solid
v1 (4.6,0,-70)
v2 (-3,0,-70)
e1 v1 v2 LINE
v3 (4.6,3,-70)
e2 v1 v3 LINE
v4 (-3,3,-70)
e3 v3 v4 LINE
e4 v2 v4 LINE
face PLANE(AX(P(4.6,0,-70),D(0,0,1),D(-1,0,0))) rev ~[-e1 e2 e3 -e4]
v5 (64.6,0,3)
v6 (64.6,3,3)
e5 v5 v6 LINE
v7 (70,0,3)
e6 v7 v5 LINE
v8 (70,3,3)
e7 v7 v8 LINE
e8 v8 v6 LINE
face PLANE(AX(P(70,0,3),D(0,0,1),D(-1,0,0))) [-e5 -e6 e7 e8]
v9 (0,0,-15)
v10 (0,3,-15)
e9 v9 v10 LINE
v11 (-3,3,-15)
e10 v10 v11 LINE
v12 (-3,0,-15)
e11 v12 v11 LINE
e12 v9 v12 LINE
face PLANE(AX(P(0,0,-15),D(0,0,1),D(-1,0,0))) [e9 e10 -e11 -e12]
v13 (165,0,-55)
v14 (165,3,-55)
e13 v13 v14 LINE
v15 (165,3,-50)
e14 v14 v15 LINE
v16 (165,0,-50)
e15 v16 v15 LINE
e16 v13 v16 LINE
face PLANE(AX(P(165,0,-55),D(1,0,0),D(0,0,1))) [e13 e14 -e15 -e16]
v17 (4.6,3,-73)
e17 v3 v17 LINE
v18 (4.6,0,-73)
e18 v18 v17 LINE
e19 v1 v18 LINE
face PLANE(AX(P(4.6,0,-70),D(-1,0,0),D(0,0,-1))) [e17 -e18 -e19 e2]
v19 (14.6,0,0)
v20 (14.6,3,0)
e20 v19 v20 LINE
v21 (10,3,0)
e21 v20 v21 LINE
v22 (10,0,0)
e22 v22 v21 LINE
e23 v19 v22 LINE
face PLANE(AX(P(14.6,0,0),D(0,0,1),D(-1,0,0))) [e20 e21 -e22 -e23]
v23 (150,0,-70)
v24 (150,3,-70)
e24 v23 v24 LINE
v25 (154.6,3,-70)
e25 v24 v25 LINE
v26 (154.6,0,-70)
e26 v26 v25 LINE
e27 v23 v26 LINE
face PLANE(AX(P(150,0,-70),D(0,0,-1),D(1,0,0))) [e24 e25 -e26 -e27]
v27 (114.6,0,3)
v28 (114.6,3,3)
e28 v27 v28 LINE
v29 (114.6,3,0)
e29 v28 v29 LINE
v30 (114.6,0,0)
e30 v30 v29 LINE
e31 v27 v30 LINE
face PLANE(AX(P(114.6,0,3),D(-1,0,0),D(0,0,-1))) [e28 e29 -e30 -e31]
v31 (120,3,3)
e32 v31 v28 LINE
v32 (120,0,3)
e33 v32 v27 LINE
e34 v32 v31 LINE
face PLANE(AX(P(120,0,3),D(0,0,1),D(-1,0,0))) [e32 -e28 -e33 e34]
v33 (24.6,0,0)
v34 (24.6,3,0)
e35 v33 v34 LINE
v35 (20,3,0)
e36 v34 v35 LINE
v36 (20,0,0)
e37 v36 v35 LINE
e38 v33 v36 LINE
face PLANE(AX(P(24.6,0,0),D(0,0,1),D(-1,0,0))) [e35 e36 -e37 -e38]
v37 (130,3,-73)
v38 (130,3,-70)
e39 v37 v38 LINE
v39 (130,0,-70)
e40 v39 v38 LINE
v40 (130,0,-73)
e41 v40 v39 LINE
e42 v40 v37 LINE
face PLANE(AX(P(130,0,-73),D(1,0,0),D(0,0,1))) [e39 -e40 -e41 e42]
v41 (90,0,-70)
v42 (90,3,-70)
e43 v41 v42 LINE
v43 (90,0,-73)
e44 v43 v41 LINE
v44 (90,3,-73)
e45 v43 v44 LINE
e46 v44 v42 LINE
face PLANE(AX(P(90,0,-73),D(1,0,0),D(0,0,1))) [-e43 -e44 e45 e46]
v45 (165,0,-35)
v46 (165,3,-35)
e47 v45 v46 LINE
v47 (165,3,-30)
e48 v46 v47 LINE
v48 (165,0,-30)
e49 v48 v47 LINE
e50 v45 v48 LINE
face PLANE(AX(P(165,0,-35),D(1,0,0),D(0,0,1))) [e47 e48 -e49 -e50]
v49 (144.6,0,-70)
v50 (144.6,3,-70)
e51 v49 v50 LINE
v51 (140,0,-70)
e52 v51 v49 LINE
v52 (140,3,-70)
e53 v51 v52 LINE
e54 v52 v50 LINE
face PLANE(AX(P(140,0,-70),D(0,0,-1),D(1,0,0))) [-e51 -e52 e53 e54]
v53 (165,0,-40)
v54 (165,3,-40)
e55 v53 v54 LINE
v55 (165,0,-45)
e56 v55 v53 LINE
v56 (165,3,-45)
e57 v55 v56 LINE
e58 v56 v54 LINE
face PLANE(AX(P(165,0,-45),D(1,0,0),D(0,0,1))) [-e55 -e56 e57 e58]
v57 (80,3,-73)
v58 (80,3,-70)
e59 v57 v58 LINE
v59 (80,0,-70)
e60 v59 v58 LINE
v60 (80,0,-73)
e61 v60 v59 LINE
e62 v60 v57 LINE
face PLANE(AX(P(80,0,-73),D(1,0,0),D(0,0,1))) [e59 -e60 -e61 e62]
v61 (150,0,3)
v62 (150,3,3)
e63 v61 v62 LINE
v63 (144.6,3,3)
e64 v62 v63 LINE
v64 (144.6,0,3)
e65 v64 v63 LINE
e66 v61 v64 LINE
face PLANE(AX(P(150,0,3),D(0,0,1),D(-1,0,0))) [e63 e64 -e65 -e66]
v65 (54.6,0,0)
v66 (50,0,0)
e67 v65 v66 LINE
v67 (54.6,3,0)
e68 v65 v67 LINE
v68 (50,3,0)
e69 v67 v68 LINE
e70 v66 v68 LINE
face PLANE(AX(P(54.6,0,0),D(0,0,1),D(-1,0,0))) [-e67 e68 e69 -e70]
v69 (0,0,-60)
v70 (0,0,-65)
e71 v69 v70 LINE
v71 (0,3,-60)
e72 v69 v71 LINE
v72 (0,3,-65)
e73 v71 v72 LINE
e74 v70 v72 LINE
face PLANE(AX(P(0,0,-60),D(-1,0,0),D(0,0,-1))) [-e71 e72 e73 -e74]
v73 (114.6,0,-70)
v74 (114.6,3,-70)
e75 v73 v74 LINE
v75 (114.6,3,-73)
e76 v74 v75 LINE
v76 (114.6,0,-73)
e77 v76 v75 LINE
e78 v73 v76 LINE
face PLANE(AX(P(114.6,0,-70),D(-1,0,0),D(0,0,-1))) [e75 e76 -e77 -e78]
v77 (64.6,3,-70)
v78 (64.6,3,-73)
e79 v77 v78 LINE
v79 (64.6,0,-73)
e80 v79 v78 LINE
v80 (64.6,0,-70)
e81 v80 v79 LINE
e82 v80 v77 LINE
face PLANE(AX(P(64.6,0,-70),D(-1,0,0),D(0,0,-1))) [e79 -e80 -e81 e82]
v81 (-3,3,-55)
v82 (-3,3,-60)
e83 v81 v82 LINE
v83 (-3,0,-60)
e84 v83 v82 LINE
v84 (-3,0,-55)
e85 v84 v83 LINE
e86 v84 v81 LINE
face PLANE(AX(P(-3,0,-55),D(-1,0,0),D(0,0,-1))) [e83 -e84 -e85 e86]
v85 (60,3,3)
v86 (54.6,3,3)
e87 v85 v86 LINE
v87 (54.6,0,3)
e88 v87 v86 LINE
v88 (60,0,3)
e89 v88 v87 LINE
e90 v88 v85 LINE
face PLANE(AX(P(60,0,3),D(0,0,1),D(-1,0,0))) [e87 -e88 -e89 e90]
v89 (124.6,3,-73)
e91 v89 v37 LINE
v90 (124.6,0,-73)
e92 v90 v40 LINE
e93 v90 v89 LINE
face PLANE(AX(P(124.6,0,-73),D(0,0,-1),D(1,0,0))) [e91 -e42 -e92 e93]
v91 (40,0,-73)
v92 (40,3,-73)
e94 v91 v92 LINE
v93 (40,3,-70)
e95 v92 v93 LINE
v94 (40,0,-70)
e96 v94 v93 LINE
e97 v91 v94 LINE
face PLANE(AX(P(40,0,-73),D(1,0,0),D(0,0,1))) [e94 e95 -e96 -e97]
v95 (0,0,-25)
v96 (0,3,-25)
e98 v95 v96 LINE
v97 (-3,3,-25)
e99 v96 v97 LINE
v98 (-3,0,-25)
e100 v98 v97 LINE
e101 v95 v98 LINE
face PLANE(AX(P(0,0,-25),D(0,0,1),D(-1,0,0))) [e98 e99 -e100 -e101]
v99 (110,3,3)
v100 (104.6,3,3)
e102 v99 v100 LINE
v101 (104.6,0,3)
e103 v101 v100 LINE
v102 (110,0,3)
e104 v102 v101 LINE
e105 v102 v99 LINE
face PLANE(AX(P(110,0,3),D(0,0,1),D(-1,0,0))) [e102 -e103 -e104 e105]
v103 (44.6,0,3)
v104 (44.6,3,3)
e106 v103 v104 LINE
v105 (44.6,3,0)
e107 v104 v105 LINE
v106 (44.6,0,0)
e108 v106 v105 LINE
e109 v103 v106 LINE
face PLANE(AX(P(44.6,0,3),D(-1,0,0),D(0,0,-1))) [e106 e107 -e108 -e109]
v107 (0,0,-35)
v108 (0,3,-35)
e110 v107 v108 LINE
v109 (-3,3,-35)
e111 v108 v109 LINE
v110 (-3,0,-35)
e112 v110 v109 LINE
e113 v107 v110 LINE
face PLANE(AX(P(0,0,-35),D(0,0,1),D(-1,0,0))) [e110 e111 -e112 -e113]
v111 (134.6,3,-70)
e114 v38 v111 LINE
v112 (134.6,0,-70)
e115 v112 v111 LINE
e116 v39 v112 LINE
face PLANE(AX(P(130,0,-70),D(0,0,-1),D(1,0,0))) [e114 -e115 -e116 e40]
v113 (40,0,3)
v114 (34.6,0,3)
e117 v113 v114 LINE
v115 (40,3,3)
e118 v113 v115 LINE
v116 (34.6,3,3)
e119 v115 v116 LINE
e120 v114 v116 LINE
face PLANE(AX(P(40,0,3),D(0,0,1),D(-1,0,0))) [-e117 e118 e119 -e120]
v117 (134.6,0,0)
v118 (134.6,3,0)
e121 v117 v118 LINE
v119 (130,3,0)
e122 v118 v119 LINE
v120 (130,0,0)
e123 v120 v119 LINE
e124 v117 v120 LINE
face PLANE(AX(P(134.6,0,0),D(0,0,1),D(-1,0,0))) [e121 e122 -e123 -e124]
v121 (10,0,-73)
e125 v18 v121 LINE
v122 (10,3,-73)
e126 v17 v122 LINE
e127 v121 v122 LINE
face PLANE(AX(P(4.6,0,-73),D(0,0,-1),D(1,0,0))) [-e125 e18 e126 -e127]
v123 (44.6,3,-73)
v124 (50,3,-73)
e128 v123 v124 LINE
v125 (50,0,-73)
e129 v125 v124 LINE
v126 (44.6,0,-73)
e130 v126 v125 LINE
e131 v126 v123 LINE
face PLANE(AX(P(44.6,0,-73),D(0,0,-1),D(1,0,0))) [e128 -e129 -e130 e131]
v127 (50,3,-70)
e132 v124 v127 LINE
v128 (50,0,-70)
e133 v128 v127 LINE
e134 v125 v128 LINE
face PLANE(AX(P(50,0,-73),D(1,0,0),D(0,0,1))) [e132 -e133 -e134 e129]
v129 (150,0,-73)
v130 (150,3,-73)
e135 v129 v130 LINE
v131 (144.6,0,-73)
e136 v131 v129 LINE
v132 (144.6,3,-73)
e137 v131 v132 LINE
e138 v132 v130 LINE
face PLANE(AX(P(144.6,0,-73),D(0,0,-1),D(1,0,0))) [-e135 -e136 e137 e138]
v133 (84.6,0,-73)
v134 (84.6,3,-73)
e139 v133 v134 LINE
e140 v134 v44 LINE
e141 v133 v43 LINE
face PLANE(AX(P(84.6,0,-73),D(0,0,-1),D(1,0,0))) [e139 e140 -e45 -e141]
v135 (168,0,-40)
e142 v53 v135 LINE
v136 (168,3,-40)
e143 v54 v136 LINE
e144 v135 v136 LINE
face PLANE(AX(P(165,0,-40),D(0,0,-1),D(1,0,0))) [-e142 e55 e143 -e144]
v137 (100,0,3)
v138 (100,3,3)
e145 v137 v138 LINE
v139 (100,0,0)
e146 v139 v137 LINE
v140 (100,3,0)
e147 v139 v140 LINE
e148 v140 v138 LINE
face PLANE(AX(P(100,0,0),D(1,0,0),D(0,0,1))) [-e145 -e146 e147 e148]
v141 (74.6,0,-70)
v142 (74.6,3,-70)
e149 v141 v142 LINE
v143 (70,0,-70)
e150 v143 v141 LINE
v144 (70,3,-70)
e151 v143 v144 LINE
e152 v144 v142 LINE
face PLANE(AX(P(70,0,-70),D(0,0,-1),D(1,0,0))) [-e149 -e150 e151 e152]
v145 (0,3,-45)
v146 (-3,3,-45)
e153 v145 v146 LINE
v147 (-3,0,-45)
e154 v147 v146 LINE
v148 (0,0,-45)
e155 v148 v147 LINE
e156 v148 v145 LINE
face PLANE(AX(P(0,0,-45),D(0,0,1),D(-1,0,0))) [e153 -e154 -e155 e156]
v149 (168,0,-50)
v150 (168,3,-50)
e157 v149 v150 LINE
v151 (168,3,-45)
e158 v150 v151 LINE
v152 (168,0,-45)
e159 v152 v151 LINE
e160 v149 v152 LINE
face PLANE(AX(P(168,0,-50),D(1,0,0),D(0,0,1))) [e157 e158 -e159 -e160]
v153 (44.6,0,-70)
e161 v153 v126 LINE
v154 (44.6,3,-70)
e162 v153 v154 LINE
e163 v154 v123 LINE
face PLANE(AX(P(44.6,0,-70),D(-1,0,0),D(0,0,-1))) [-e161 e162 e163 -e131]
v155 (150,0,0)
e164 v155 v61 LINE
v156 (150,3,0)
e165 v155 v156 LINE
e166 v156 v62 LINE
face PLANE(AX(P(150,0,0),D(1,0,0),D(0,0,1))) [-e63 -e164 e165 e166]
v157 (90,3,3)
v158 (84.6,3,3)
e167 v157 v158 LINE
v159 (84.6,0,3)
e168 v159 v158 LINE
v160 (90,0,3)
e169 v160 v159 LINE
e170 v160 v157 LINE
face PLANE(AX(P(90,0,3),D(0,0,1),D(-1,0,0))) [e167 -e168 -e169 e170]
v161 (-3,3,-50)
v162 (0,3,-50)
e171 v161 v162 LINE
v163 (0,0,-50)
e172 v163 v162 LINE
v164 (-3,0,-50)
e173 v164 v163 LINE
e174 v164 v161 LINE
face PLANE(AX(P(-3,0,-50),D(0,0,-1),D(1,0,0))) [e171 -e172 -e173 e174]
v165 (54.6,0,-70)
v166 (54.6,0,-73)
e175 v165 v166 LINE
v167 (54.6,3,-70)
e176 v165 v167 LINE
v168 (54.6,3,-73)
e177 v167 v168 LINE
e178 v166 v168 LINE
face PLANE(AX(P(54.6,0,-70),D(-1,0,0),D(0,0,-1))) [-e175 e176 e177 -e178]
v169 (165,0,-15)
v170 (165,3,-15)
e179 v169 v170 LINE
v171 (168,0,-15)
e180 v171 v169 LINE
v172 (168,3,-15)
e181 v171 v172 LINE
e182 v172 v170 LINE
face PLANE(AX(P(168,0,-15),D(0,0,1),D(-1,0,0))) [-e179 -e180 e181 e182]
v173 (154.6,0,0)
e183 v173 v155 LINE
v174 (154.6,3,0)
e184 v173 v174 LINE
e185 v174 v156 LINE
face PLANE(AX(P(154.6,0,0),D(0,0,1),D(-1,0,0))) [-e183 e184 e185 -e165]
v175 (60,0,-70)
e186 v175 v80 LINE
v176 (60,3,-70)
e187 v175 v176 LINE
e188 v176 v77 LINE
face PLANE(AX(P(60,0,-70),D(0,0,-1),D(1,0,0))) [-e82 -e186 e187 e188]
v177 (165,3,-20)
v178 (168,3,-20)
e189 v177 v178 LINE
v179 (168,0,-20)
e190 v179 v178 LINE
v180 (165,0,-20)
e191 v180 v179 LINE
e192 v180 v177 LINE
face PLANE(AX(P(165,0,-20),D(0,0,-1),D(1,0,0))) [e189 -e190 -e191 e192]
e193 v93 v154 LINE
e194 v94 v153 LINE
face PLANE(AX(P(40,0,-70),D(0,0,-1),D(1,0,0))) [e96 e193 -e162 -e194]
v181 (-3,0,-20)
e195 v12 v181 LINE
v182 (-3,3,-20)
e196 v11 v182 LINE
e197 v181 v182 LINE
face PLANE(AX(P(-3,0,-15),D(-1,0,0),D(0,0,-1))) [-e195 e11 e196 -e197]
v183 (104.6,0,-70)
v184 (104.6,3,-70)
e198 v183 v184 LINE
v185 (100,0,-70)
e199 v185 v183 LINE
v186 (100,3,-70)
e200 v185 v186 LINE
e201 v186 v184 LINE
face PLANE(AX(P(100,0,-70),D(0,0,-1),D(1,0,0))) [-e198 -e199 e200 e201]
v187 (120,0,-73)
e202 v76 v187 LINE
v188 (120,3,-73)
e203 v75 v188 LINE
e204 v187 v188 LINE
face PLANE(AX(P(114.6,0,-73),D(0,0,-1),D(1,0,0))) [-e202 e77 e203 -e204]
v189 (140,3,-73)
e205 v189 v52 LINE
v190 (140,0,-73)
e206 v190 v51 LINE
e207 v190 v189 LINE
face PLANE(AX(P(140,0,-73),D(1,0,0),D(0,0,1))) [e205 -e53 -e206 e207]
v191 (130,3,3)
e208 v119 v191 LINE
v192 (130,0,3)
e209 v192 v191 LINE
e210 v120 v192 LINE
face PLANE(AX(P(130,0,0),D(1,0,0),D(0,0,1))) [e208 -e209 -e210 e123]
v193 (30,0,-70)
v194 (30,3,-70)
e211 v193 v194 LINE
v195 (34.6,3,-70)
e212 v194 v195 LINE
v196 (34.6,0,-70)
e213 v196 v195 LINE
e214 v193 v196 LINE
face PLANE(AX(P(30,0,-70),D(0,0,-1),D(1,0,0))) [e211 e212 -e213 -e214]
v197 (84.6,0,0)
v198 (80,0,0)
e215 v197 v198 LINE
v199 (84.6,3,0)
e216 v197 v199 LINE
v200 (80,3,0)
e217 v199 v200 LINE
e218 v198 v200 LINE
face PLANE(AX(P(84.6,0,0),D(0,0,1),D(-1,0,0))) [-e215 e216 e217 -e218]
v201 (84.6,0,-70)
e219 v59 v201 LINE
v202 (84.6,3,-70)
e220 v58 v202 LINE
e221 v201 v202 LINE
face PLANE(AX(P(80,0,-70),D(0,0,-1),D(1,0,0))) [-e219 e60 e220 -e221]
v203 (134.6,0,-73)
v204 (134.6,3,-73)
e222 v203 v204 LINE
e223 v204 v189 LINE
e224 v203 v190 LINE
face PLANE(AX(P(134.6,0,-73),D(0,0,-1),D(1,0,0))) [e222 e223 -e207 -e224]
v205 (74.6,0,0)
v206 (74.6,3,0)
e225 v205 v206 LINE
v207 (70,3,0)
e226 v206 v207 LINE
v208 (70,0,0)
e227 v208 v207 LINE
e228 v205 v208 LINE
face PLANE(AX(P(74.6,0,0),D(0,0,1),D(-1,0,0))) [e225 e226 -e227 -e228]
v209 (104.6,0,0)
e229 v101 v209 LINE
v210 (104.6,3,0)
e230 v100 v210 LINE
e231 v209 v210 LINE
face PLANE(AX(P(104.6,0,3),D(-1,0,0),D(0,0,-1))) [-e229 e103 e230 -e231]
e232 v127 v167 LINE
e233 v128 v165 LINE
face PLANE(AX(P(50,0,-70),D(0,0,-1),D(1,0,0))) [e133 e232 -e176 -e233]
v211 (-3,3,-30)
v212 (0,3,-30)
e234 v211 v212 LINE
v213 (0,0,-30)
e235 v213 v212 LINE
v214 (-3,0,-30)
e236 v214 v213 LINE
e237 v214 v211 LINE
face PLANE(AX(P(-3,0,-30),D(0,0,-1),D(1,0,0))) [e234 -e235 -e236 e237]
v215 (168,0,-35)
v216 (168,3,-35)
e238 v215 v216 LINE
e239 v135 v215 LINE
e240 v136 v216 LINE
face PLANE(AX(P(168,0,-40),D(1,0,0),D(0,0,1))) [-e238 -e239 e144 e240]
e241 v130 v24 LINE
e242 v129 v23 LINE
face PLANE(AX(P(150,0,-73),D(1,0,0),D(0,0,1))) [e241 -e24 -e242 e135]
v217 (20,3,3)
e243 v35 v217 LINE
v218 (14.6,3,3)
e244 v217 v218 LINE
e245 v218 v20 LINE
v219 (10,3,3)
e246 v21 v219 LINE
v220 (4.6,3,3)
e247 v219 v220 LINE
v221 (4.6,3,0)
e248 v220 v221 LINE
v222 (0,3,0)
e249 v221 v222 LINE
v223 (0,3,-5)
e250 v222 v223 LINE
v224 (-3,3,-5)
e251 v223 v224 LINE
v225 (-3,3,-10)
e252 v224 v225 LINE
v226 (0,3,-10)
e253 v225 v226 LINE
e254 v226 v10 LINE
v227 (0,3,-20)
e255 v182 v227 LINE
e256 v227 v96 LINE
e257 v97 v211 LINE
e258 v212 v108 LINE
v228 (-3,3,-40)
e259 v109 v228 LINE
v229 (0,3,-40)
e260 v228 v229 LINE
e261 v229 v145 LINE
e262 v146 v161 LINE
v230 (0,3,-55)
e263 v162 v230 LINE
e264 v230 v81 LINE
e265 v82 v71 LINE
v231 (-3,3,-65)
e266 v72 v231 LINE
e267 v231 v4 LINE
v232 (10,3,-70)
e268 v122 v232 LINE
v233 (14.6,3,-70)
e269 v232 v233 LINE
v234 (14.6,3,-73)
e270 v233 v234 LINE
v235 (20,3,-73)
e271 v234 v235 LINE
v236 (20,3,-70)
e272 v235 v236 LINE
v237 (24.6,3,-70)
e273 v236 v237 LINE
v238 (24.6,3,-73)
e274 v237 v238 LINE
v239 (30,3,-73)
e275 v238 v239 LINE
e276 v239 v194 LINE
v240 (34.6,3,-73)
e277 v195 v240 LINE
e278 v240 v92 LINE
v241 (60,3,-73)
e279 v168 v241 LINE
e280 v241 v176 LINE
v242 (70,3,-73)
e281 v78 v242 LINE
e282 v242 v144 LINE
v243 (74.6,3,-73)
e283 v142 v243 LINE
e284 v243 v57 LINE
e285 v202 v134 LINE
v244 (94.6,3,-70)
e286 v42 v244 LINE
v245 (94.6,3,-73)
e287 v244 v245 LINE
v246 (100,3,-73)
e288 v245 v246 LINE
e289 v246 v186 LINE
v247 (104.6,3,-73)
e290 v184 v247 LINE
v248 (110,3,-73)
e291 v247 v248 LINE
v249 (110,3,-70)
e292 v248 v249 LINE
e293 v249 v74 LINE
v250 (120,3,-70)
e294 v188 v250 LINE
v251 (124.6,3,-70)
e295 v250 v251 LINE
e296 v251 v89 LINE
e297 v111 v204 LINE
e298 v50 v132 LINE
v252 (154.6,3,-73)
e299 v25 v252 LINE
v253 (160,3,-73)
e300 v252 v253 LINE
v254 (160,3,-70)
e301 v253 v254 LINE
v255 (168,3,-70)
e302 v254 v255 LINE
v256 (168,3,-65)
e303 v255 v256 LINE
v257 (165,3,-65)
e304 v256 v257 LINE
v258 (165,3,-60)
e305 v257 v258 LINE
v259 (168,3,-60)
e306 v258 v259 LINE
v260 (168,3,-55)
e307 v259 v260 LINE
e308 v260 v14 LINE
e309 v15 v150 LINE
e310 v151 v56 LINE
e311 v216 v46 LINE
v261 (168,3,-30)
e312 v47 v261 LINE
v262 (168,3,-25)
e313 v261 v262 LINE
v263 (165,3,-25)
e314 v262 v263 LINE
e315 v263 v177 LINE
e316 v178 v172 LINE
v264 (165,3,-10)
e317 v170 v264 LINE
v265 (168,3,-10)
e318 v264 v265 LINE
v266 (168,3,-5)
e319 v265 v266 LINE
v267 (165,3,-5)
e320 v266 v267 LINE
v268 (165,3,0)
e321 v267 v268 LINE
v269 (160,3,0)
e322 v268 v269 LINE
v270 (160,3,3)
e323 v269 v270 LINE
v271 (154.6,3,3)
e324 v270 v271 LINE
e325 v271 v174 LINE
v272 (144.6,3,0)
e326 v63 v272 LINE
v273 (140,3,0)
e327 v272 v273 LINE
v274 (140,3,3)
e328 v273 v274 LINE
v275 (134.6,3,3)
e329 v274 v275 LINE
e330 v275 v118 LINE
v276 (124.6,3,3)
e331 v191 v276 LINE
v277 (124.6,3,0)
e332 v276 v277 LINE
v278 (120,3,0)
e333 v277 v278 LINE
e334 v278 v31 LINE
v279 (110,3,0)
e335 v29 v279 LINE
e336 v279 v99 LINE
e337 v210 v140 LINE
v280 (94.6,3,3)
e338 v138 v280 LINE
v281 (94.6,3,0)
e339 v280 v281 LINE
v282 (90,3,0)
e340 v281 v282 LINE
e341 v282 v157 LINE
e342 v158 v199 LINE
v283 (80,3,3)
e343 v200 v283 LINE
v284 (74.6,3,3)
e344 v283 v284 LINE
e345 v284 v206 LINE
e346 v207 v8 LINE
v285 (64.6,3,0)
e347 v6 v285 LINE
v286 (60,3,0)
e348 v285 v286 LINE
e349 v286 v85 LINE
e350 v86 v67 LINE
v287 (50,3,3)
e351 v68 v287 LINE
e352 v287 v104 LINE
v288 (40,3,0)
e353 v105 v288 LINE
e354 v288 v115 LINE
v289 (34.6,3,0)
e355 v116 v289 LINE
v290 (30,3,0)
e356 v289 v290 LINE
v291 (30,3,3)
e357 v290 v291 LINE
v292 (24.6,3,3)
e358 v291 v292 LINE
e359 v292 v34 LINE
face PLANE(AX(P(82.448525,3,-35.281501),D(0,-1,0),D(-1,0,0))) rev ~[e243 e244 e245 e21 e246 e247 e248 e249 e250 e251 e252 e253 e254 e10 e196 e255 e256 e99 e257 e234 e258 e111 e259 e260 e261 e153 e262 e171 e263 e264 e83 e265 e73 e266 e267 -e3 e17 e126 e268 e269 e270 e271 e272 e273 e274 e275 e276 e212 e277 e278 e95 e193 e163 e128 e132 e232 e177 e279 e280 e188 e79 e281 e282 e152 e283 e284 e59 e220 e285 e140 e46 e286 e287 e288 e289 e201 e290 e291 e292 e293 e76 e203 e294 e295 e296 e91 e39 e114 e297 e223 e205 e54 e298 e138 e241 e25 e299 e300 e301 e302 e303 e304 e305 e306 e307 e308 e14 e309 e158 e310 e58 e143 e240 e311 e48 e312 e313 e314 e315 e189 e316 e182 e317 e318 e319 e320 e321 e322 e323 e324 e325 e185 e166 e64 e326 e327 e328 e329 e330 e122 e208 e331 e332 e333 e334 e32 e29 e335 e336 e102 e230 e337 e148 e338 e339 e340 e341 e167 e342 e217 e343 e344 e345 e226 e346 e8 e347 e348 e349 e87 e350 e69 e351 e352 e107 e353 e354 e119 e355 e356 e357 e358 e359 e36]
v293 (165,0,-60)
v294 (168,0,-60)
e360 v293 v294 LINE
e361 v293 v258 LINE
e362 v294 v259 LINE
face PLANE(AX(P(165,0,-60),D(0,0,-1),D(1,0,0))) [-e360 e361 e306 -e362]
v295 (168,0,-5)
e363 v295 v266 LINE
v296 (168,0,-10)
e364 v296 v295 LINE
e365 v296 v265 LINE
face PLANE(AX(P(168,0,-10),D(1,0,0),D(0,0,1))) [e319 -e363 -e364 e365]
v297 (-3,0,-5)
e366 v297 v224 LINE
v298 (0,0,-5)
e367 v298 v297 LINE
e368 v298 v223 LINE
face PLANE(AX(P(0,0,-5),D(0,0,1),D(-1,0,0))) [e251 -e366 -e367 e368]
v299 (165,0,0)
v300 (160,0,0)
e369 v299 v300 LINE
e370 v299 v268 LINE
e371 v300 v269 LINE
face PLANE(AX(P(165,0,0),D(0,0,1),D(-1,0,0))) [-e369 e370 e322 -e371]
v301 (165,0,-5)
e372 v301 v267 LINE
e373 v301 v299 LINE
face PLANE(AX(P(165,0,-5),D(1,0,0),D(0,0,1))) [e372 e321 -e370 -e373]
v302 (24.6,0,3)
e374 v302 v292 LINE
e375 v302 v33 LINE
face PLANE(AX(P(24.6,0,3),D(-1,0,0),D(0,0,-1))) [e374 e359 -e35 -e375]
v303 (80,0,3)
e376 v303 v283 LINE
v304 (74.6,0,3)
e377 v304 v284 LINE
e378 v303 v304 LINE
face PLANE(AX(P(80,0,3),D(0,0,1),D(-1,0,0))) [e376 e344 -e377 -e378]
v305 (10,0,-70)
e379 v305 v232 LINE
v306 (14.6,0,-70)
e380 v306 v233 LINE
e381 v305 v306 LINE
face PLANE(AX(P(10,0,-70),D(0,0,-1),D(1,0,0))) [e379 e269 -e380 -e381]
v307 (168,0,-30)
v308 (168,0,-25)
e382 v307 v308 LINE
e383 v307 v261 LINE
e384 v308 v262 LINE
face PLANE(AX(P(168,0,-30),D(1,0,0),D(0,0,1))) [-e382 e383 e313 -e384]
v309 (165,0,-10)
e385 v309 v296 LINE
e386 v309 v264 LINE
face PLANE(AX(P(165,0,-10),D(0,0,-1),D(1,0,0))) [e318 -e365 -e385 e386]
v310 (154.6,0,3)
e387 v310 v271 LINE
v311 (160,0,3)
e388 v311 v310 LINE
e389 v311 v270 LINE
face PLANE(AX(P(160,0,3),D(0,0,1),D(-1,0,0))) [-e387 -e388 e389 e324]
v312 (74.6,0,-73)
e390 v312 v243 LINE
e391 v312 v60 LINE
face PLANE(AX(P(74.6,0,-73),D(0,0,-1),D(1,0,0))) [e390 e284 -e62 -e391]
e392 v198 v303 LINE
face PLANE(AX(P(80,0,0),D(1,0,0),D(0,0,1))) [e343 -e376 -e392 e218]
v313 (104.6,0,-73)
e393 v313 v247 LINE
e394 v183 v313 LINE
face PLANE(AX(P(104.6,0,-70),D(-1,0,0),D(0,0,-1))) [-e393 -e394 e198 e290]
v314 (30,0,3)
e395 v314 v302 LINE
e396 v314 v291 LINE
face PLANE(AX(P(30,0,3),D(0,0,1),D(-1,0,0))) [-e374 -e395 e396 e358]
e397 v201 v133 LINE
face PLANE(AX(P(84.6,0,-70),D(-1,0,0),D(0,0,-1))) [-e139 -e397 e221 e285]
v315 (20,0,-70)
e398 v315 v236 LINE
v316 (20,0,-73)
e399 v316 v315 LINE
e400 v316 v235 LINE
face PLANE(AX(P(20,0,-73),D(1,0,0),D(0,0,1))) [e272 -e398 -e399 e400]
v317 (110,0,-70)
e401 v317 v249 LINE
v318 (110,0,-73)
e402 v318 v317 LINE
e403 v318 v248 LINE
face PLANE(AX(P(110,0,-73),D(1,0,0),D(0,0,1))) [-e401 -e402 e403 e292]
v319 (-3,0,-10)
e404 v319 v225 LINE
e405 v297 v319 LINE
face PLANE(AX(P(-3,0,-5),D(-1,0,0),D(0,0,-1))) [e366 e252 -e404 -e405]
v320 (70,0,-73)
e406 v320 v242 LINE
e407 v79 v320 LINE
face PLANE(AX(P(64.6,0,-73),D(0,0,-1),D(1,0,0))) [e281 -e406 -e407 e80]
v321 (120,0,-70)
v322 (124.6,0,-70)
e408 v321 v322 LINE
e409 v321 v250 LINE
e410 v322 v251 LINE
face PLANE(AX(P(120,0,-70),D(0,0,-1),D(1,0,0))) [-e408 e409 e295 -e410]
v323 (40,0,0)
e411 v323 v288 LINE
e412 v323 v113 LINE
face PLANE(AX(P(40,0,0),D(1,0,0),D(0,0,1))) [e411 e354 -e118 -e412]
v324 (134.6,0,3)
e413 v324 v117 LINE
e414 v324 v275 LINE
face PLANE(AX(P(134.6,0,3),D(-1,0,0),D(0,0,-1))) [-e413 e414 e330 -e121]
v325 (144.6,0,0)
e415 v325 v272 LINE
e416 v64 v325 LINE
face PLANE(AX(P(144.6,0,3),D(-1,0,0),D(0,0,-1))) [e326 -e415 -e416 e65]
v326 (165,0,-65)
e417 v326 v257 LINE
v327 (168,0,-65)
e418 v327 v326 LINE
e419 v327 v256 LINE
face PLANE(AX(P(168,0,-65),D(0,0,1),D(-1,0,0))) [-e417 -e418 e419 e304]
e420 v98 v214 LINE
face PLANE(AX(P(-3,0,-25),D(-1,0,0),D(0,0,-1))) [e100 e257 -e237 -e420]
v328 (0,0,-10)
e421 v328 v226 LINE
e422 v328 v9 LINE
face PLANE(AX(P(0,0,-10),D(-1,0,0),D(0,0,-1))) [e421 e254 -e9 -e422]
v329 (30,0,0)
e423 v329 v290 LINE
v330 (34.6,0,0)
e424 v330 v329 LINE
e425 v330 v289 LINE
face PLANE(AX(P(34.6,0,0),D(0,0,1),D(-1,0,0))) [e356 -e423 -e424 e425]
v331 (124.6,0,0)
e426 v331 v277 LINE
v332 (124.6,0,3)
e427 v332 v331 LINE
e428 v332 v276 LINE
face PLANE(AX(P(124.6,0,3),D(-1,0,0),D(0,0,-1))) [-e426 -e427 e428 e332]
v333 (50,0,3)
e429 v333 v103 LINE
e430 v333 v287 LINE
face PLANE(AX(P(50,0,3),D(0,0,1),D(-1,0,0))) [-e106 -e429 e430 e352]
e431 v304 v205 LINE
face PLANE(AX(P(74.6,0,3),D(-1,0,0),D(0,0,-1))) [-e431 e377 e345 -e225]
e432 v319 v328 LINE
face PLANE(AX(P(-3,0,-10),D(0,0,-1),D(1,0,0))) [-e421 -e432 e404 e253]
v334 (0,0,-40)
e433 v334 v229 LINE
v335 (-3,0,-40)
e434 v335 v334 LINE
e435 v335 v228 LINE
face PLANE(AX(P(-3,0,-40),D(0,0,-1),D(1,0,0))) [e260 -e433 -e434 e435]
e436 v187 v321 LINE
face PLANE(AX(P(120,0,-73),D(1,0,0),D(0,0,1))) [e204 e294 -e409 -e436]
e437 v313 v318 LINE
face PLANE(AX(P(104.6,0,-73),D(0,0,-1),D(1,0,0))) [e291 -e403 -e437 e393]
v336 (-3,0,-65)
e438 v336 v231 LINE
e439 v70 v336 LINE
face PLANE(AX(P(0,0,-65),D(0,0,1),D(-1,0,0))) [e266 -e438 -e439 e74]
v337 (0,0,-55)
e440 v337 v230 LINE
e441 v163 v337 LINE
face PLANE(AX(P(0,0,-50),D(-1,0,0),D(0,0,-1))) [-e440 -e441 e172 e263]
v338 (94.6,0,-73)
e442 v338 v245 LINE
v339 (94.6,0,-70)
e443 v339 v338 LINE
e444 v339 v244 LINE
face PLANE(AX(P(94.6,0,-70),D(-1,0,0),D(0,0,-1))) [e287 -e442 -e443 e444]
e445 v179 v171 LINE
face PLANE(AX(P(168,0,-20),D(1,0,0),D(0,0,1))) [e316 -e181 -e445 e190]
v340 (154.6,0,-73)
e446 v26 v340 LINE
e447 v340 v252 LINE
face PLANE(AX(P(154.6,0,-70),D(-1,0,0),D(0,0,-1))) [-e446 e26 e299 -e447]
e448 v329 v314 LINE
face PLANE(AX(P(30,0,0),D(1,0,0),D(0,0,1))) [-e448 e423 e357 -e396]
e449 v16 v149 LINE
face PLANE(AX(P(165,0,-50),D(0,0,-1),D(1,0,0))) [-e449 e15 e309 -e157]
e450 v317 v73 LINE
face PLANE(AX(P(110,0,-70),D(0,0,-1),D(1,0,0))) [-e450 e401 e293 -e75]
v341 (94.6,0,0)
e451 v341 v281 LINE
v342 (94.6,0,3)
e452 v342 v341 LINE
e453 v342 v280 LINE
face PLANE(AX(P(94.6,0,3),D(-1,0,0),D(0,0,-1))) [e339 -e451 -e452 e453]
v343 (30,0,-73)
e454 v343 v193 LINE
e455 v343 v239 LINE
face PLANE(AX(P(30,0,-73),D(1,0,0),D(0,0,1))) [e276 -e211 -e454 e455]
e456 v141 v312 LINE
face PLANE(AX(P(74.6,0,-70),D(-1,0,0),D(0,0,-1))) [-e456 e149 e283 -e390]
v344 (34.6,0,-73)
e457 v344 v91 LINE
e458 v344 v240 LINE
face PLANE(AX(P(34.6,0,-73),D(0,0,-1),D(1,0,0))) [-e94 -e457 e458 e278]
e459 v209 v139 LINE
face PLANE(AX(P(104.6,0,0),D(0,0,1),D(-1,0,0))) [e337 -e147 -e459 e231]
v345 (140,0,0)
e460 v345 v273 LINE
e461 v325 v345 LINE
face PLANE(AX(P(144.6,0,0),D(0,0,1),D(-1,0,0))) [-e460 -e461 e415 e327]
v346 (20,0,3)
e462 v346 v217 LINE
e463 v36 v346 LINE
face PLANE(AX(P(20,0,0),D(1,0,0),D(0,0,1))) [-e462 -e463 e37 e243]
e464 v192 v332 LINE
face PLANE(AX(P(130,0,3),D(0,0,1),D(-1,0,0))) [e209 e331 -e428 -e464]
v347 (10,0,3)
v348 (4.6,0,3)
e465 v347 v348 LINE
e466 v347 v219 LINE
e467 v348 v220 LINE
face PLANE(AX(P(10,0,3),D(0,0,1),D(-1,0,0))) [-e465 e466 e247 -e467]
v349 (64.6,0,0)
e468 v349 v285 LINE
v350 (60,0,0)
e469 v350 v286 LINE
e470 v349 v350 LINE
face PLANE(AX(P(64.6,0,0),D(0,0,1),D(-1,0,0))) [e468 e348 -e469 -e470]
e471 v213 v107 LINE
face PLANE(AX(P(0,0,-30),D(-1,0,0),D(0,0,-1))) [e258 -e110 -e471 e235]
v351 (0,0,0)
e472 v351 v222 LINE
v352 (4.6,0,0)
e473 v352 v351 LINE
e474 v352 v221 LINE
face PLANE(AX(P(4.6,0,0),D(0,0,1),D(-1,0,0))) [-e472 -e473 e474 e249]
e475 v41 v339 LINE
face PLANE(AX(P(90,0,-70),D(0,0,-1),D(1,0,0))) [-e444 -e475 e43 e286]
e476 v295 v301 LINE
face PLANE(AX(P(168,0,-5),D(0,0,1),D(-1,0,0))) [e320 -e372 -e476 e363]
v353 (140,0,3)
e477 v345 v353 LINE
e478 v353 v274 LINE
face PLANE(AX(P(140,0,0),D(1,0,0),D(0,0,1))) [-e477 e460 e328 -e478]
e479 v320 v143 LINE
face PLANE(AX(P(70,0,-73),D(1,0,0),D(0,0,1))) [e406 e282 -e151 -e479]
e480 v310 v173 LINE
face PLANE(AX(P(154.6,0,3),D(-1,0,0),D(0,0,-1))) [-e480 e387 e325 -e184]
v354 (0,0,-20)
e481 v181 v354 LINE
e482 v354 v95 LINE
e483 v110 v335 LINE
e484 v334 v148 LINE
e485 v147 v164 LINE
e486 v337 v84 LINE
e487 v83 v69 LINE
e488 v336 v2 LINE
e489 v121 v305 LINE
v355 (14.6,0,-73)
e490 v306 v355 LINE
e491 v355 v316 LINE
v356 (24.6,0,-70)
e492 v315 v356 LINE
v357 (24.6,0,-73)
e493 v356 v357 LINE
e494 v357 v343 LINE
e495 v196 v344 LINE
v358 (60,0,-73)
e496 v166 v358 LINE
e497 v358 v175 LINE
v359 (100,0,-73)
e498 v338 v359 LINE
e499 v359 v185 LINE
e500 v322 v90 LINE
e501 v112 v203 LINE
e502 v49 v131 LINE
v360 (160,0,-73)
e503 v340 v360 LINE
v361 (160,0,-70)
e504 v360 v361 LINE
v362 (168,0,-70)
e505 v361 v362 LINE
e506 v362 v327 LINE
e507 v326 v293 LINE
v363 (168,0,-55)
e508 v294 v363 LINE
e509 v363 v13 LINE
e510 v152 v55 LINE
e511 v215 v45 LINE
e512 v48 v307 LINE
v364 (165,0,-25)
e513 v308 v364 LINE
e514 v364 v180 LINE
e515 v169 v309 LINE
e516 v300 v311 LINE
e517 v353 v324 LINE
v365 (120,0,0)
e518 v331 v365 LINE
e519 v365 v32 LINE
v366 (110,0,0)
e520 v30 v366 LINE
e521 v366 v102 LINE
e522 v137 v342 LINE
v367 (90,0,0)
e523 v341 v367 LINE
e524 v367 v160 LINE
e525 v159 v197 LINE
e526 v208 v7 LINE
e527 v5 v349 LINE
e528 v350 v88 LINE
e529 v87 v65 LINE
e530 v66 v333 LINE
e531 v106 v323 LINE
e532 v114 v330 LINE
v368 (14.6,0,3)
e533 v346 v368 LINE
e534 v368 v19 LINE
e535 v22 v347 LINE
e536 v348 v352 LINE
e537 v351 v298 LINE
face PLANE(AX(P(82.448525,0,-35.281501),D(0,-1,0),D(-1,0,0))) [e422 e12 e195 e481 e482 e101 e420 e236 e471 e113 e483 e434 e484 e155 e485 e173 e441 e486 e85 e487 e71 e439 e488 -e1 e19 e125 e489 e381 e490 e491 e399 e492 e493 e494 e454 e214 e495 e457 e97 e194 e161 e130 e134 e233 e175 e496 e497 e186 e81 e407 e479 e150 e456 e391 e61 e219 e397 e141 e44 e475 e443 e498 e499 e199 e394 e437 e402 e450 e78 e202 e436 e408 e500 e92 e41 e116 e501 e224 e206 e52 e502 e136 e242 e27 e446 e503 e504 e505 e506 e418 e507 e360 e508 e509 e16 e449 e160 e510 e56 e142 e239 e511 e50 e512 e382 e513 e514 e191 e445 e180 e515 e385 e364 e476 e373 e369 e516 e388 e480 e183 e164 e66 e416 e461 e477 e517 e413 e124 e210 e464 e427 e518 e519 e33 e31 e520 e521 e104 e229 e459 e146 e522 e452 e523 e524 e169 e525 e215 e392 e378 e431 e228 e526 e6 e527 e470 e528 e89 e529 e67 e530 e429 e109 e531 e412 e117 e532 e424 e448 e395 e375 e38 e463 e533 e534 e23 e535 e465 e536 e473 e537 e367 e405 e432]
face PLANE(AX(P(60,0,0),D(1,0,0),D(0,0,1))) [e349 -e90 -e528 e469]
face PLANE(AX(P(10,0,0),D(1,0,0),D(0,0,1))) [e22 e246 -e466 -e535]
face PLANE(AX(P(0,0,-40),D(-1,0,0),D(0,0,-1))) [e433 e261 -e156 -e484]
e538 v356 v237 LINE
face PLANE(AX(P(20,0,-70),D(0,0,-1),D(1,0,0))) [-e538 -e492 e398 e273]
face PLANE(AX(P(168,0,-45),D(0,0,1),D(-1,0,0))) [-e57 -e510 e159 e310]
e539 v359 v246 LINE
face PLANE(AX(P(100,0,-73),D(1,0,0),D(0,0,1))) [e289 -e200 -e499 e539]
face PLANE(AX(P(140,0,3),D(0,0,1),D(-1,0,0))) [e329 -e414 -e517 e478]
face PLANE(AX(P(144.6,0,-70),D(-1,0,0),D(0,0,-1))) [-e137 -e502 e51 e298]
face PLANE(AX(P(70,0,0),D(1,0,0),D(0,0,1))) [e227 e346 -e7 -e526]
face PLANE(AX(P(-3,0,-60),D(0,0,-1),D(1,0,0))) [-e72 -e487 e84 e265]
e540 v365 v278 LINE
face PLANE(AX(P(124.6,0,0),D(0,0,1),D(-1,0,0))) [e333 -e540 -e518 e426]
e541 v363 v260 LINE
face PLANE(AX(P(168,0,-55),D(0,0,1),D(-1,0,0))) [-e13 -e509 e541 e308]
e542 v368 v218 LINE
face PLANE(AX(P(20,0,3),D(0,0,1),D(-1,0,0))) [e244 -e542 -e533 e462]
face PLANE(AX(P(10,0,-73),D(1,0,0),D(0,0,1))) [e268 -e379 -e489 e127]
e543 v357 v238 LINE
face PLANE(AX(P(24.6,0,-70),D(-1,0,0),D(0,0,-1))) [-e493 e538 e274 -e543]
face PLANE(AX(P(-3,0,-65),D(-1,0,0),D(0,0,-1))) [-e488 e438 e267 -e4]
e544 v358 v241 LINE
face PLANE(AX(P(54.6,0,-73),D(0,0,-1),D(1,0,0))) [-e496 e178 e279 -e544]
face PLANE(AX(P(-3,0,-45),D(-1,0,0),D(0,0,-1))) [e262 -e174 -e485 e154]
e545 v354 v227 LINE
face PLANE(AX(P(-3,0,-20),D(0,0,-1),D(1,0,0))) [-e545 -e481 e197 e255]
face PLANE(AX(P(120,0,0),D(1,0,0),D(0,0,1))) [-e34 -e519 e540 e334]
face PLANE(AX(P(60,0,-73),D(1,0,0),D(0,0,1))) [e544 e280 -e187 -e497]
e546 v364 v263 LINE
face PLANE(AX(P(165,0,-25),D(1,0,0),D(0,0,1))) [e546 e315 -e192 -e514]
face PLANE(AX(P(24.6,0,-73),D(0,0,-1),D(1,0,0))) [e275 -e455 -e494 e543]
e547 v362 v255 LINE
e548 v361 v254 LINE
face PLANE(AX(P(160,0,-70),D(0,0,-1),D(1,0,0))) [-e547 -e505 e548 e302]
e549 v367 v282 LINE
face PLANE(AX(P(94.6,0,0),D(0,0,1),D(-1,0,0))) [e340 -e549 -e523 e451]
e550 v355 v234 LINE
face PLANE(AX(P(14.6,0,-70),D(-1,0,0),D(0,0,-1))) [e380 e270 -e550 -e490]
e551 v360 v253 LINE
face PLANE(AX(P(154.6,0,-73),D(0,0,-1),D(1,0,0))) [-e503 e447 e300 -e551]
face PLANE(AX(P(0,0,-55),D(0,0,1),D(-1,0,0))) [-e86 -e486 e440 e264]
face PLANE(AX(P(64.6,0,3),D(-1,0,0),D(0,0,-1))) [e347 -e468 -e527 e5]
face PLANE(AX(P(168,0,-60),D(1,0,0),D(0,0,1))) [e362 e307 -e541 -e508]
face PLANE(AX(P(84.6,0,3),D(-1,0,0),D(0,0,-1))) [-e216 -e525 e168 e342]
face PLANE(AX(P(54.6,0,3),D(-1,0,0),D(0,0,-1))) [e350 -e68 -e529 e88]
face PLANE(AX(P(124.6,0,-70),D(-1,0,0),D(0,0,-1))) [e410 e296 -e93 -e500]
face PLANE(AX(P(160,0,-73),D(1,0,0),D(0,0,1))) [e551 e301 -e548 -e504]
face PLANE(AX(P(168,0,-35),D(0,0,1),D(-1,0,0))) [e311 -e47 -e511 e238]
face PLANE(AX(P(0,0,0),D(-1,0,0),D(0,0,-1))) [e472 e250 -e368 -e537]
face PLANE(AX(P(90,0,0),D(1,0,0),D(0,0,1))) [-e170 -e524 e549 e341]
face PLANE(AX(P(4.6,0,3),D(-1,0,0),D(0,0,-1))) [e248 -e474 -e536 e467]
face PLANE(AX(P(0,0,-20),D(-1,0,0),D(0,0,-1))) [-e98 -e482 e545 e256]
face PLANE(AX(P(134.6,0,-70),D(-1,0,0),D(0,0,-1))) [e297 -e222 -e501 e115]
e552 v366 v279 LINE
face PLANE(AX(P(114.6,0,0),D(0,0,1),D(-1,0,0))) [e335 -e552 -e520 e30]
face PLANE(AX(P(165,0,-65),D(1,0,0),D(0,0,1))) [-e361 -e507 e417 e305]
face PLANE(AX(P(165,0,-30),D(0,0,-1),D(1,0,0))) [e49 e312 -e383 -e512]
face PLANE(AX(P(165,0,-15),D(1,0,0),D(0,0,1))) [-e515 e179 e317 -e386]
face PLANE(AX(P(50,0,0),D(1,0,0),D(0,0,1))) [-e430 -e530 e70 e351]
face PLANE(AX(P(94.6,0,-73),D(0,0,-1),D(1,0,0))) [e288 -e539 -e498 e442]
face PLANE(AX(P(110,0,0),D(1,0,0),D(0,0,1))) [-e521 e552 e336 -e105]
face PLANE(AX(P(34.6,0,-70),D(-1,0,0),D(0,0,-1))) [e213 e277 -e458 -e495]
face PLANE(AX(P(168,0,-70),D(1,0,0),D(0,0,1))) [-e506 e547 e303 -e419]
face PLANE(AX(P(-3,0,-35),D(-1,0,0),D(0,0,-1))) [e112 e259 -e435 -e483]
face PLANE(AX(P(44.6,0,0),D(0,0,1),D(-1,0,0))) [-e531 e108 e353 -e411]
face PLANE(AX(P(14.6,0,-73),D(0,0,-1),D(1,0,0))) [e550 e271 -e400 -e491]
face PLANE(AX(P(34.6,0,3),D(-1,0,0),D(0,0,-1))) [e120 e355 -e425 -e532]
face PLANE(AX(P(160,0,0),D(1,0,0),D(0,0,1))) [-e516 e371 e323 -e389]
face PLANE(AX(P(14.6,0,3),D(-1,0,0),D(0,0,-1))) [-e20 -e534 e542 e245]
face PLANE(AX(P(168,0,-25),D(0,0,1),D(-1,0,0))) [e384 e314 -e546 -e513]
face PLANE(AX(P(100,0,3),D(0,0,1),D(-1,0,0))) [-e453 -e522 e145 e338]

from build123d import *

# Parameters (mm, degrees)
EXTRUDE_1_DEPTH = 3


with BuildPart() as part:
    # Эскиз1 → Бобышка-Вытянуть1 (new body)
    with BuildSketch(Plane(origin=(0, 0, 0), x_dir=(1, 0, 0), z_dir=(0, 1, 0))):
        Polygon((4.6, 70), (4.6, 73), (10, 73), (10, 70), (14.6, 70), (14.6, 73), (20, 73), (20, 70), (24.6, 70), (24.6, 73), (30, 73), (30, 70), (34.6, 70), (34.6, 73), (40, 73), (40, 70), (44.6, 70), (44.6, 73), (50, 73), (50, 70), (54.6, 70), (54.6, 73), (60, 73), (60, 70), (64.6, 70), (64.6, 73), (70, 73), (70, 70), (74.6, 70), (74.6, 73), (80, 73), (80, 70), (84.6, 70), (84.6, 73), (90, 73), (90, 70), (94.6, 70), (94.6, 73), (100, 73), (100, 70), (104.6, 70), (104.6, 73), (110, 73), (110, 70), (114.6, 70), (114.6, 73), (120, 73), (120, 70), (124.6, 70), (124.6, 73), (130, 73), (130, 70), (134.6, 70), (134.6, 73), (140, 73), (140, 70), (144.6, 70), (144.6, 73), (150, 73), (150, 70), (154.6, 70), (154.6, 73), (160, 73), (160, 70), (168, 70), (168, 65), (165, 65), (165, 60), (168, 60), (168, 55), (165, 55), (165, 50), (168, 50), (168, 45), (165, 45), (165, 40), (168, 40), (168, 35), (165, 35), (165, 30), (168, 30), (168, 25), (165, 25), (165, 20), (168, 20), (168, 15), (165, 15), (165, 10), (168, 10), (168, 5), (165, 5), (165, 0), (160, 0), (160, -3), (154.6, -3), (154.6, 0), (150, 0), (150, -3), (144.6, -3), (144.6, 0), (140, 0), (140, -3), (134.6, -3), (134.6, 0), (130, 0), (130, -3), (124.6, -3), (124.6, 0), (120, 0), (120, -3), (114.6, -3), (114.6, 0), (110, 0), (110, -3), (104.6, -3), (104.6, 0), (100, 0), (100, -3), (94.6, -3), (94.6, 0), (90, 0), (90, -3), (84.6, -3), (84.6, 0), (80, 0), (80, -3), (74.6, -3), (74.6, 0), (70, 0), (70, -3), (64.6, -3), (64.6, 0), (60, 0), (60, -3), (54.6, -3), (54.6, 0), (50, 0), (50, -3), (44.6, -3), (44.6, 0), (40, 0), (40, -3), (34.6, -3), (34.6, 0), (30, 0), (30, -3), (24.6, -3), (24.6, 0), (20, 0), (20, -3), (14.6, -3), (14.6, 0), (10, 0), (10, -3), (4.6, -3), (4.6, 0), (0, 0), (0, 5), (-3, 5), (-3, 10), (0, 10), (0, 15), (-3, 15), (-3, 20), (0, 20), (0, 25), (-3, 25), (-3, 30), (0, 30), (0, 35), (-3, 35), (-3, 40), (0, 40), (0, 45), (-3, 45), (-3, 50), (0, 50), (0, 55), (-3, 55), (-3, 60), (0, 60), (0, 65), (-3, 65), (-3, 70), (0, 70), align=None)
    extrude(amount=EXTRUDE_1_DEPTH)


solid = part.part
